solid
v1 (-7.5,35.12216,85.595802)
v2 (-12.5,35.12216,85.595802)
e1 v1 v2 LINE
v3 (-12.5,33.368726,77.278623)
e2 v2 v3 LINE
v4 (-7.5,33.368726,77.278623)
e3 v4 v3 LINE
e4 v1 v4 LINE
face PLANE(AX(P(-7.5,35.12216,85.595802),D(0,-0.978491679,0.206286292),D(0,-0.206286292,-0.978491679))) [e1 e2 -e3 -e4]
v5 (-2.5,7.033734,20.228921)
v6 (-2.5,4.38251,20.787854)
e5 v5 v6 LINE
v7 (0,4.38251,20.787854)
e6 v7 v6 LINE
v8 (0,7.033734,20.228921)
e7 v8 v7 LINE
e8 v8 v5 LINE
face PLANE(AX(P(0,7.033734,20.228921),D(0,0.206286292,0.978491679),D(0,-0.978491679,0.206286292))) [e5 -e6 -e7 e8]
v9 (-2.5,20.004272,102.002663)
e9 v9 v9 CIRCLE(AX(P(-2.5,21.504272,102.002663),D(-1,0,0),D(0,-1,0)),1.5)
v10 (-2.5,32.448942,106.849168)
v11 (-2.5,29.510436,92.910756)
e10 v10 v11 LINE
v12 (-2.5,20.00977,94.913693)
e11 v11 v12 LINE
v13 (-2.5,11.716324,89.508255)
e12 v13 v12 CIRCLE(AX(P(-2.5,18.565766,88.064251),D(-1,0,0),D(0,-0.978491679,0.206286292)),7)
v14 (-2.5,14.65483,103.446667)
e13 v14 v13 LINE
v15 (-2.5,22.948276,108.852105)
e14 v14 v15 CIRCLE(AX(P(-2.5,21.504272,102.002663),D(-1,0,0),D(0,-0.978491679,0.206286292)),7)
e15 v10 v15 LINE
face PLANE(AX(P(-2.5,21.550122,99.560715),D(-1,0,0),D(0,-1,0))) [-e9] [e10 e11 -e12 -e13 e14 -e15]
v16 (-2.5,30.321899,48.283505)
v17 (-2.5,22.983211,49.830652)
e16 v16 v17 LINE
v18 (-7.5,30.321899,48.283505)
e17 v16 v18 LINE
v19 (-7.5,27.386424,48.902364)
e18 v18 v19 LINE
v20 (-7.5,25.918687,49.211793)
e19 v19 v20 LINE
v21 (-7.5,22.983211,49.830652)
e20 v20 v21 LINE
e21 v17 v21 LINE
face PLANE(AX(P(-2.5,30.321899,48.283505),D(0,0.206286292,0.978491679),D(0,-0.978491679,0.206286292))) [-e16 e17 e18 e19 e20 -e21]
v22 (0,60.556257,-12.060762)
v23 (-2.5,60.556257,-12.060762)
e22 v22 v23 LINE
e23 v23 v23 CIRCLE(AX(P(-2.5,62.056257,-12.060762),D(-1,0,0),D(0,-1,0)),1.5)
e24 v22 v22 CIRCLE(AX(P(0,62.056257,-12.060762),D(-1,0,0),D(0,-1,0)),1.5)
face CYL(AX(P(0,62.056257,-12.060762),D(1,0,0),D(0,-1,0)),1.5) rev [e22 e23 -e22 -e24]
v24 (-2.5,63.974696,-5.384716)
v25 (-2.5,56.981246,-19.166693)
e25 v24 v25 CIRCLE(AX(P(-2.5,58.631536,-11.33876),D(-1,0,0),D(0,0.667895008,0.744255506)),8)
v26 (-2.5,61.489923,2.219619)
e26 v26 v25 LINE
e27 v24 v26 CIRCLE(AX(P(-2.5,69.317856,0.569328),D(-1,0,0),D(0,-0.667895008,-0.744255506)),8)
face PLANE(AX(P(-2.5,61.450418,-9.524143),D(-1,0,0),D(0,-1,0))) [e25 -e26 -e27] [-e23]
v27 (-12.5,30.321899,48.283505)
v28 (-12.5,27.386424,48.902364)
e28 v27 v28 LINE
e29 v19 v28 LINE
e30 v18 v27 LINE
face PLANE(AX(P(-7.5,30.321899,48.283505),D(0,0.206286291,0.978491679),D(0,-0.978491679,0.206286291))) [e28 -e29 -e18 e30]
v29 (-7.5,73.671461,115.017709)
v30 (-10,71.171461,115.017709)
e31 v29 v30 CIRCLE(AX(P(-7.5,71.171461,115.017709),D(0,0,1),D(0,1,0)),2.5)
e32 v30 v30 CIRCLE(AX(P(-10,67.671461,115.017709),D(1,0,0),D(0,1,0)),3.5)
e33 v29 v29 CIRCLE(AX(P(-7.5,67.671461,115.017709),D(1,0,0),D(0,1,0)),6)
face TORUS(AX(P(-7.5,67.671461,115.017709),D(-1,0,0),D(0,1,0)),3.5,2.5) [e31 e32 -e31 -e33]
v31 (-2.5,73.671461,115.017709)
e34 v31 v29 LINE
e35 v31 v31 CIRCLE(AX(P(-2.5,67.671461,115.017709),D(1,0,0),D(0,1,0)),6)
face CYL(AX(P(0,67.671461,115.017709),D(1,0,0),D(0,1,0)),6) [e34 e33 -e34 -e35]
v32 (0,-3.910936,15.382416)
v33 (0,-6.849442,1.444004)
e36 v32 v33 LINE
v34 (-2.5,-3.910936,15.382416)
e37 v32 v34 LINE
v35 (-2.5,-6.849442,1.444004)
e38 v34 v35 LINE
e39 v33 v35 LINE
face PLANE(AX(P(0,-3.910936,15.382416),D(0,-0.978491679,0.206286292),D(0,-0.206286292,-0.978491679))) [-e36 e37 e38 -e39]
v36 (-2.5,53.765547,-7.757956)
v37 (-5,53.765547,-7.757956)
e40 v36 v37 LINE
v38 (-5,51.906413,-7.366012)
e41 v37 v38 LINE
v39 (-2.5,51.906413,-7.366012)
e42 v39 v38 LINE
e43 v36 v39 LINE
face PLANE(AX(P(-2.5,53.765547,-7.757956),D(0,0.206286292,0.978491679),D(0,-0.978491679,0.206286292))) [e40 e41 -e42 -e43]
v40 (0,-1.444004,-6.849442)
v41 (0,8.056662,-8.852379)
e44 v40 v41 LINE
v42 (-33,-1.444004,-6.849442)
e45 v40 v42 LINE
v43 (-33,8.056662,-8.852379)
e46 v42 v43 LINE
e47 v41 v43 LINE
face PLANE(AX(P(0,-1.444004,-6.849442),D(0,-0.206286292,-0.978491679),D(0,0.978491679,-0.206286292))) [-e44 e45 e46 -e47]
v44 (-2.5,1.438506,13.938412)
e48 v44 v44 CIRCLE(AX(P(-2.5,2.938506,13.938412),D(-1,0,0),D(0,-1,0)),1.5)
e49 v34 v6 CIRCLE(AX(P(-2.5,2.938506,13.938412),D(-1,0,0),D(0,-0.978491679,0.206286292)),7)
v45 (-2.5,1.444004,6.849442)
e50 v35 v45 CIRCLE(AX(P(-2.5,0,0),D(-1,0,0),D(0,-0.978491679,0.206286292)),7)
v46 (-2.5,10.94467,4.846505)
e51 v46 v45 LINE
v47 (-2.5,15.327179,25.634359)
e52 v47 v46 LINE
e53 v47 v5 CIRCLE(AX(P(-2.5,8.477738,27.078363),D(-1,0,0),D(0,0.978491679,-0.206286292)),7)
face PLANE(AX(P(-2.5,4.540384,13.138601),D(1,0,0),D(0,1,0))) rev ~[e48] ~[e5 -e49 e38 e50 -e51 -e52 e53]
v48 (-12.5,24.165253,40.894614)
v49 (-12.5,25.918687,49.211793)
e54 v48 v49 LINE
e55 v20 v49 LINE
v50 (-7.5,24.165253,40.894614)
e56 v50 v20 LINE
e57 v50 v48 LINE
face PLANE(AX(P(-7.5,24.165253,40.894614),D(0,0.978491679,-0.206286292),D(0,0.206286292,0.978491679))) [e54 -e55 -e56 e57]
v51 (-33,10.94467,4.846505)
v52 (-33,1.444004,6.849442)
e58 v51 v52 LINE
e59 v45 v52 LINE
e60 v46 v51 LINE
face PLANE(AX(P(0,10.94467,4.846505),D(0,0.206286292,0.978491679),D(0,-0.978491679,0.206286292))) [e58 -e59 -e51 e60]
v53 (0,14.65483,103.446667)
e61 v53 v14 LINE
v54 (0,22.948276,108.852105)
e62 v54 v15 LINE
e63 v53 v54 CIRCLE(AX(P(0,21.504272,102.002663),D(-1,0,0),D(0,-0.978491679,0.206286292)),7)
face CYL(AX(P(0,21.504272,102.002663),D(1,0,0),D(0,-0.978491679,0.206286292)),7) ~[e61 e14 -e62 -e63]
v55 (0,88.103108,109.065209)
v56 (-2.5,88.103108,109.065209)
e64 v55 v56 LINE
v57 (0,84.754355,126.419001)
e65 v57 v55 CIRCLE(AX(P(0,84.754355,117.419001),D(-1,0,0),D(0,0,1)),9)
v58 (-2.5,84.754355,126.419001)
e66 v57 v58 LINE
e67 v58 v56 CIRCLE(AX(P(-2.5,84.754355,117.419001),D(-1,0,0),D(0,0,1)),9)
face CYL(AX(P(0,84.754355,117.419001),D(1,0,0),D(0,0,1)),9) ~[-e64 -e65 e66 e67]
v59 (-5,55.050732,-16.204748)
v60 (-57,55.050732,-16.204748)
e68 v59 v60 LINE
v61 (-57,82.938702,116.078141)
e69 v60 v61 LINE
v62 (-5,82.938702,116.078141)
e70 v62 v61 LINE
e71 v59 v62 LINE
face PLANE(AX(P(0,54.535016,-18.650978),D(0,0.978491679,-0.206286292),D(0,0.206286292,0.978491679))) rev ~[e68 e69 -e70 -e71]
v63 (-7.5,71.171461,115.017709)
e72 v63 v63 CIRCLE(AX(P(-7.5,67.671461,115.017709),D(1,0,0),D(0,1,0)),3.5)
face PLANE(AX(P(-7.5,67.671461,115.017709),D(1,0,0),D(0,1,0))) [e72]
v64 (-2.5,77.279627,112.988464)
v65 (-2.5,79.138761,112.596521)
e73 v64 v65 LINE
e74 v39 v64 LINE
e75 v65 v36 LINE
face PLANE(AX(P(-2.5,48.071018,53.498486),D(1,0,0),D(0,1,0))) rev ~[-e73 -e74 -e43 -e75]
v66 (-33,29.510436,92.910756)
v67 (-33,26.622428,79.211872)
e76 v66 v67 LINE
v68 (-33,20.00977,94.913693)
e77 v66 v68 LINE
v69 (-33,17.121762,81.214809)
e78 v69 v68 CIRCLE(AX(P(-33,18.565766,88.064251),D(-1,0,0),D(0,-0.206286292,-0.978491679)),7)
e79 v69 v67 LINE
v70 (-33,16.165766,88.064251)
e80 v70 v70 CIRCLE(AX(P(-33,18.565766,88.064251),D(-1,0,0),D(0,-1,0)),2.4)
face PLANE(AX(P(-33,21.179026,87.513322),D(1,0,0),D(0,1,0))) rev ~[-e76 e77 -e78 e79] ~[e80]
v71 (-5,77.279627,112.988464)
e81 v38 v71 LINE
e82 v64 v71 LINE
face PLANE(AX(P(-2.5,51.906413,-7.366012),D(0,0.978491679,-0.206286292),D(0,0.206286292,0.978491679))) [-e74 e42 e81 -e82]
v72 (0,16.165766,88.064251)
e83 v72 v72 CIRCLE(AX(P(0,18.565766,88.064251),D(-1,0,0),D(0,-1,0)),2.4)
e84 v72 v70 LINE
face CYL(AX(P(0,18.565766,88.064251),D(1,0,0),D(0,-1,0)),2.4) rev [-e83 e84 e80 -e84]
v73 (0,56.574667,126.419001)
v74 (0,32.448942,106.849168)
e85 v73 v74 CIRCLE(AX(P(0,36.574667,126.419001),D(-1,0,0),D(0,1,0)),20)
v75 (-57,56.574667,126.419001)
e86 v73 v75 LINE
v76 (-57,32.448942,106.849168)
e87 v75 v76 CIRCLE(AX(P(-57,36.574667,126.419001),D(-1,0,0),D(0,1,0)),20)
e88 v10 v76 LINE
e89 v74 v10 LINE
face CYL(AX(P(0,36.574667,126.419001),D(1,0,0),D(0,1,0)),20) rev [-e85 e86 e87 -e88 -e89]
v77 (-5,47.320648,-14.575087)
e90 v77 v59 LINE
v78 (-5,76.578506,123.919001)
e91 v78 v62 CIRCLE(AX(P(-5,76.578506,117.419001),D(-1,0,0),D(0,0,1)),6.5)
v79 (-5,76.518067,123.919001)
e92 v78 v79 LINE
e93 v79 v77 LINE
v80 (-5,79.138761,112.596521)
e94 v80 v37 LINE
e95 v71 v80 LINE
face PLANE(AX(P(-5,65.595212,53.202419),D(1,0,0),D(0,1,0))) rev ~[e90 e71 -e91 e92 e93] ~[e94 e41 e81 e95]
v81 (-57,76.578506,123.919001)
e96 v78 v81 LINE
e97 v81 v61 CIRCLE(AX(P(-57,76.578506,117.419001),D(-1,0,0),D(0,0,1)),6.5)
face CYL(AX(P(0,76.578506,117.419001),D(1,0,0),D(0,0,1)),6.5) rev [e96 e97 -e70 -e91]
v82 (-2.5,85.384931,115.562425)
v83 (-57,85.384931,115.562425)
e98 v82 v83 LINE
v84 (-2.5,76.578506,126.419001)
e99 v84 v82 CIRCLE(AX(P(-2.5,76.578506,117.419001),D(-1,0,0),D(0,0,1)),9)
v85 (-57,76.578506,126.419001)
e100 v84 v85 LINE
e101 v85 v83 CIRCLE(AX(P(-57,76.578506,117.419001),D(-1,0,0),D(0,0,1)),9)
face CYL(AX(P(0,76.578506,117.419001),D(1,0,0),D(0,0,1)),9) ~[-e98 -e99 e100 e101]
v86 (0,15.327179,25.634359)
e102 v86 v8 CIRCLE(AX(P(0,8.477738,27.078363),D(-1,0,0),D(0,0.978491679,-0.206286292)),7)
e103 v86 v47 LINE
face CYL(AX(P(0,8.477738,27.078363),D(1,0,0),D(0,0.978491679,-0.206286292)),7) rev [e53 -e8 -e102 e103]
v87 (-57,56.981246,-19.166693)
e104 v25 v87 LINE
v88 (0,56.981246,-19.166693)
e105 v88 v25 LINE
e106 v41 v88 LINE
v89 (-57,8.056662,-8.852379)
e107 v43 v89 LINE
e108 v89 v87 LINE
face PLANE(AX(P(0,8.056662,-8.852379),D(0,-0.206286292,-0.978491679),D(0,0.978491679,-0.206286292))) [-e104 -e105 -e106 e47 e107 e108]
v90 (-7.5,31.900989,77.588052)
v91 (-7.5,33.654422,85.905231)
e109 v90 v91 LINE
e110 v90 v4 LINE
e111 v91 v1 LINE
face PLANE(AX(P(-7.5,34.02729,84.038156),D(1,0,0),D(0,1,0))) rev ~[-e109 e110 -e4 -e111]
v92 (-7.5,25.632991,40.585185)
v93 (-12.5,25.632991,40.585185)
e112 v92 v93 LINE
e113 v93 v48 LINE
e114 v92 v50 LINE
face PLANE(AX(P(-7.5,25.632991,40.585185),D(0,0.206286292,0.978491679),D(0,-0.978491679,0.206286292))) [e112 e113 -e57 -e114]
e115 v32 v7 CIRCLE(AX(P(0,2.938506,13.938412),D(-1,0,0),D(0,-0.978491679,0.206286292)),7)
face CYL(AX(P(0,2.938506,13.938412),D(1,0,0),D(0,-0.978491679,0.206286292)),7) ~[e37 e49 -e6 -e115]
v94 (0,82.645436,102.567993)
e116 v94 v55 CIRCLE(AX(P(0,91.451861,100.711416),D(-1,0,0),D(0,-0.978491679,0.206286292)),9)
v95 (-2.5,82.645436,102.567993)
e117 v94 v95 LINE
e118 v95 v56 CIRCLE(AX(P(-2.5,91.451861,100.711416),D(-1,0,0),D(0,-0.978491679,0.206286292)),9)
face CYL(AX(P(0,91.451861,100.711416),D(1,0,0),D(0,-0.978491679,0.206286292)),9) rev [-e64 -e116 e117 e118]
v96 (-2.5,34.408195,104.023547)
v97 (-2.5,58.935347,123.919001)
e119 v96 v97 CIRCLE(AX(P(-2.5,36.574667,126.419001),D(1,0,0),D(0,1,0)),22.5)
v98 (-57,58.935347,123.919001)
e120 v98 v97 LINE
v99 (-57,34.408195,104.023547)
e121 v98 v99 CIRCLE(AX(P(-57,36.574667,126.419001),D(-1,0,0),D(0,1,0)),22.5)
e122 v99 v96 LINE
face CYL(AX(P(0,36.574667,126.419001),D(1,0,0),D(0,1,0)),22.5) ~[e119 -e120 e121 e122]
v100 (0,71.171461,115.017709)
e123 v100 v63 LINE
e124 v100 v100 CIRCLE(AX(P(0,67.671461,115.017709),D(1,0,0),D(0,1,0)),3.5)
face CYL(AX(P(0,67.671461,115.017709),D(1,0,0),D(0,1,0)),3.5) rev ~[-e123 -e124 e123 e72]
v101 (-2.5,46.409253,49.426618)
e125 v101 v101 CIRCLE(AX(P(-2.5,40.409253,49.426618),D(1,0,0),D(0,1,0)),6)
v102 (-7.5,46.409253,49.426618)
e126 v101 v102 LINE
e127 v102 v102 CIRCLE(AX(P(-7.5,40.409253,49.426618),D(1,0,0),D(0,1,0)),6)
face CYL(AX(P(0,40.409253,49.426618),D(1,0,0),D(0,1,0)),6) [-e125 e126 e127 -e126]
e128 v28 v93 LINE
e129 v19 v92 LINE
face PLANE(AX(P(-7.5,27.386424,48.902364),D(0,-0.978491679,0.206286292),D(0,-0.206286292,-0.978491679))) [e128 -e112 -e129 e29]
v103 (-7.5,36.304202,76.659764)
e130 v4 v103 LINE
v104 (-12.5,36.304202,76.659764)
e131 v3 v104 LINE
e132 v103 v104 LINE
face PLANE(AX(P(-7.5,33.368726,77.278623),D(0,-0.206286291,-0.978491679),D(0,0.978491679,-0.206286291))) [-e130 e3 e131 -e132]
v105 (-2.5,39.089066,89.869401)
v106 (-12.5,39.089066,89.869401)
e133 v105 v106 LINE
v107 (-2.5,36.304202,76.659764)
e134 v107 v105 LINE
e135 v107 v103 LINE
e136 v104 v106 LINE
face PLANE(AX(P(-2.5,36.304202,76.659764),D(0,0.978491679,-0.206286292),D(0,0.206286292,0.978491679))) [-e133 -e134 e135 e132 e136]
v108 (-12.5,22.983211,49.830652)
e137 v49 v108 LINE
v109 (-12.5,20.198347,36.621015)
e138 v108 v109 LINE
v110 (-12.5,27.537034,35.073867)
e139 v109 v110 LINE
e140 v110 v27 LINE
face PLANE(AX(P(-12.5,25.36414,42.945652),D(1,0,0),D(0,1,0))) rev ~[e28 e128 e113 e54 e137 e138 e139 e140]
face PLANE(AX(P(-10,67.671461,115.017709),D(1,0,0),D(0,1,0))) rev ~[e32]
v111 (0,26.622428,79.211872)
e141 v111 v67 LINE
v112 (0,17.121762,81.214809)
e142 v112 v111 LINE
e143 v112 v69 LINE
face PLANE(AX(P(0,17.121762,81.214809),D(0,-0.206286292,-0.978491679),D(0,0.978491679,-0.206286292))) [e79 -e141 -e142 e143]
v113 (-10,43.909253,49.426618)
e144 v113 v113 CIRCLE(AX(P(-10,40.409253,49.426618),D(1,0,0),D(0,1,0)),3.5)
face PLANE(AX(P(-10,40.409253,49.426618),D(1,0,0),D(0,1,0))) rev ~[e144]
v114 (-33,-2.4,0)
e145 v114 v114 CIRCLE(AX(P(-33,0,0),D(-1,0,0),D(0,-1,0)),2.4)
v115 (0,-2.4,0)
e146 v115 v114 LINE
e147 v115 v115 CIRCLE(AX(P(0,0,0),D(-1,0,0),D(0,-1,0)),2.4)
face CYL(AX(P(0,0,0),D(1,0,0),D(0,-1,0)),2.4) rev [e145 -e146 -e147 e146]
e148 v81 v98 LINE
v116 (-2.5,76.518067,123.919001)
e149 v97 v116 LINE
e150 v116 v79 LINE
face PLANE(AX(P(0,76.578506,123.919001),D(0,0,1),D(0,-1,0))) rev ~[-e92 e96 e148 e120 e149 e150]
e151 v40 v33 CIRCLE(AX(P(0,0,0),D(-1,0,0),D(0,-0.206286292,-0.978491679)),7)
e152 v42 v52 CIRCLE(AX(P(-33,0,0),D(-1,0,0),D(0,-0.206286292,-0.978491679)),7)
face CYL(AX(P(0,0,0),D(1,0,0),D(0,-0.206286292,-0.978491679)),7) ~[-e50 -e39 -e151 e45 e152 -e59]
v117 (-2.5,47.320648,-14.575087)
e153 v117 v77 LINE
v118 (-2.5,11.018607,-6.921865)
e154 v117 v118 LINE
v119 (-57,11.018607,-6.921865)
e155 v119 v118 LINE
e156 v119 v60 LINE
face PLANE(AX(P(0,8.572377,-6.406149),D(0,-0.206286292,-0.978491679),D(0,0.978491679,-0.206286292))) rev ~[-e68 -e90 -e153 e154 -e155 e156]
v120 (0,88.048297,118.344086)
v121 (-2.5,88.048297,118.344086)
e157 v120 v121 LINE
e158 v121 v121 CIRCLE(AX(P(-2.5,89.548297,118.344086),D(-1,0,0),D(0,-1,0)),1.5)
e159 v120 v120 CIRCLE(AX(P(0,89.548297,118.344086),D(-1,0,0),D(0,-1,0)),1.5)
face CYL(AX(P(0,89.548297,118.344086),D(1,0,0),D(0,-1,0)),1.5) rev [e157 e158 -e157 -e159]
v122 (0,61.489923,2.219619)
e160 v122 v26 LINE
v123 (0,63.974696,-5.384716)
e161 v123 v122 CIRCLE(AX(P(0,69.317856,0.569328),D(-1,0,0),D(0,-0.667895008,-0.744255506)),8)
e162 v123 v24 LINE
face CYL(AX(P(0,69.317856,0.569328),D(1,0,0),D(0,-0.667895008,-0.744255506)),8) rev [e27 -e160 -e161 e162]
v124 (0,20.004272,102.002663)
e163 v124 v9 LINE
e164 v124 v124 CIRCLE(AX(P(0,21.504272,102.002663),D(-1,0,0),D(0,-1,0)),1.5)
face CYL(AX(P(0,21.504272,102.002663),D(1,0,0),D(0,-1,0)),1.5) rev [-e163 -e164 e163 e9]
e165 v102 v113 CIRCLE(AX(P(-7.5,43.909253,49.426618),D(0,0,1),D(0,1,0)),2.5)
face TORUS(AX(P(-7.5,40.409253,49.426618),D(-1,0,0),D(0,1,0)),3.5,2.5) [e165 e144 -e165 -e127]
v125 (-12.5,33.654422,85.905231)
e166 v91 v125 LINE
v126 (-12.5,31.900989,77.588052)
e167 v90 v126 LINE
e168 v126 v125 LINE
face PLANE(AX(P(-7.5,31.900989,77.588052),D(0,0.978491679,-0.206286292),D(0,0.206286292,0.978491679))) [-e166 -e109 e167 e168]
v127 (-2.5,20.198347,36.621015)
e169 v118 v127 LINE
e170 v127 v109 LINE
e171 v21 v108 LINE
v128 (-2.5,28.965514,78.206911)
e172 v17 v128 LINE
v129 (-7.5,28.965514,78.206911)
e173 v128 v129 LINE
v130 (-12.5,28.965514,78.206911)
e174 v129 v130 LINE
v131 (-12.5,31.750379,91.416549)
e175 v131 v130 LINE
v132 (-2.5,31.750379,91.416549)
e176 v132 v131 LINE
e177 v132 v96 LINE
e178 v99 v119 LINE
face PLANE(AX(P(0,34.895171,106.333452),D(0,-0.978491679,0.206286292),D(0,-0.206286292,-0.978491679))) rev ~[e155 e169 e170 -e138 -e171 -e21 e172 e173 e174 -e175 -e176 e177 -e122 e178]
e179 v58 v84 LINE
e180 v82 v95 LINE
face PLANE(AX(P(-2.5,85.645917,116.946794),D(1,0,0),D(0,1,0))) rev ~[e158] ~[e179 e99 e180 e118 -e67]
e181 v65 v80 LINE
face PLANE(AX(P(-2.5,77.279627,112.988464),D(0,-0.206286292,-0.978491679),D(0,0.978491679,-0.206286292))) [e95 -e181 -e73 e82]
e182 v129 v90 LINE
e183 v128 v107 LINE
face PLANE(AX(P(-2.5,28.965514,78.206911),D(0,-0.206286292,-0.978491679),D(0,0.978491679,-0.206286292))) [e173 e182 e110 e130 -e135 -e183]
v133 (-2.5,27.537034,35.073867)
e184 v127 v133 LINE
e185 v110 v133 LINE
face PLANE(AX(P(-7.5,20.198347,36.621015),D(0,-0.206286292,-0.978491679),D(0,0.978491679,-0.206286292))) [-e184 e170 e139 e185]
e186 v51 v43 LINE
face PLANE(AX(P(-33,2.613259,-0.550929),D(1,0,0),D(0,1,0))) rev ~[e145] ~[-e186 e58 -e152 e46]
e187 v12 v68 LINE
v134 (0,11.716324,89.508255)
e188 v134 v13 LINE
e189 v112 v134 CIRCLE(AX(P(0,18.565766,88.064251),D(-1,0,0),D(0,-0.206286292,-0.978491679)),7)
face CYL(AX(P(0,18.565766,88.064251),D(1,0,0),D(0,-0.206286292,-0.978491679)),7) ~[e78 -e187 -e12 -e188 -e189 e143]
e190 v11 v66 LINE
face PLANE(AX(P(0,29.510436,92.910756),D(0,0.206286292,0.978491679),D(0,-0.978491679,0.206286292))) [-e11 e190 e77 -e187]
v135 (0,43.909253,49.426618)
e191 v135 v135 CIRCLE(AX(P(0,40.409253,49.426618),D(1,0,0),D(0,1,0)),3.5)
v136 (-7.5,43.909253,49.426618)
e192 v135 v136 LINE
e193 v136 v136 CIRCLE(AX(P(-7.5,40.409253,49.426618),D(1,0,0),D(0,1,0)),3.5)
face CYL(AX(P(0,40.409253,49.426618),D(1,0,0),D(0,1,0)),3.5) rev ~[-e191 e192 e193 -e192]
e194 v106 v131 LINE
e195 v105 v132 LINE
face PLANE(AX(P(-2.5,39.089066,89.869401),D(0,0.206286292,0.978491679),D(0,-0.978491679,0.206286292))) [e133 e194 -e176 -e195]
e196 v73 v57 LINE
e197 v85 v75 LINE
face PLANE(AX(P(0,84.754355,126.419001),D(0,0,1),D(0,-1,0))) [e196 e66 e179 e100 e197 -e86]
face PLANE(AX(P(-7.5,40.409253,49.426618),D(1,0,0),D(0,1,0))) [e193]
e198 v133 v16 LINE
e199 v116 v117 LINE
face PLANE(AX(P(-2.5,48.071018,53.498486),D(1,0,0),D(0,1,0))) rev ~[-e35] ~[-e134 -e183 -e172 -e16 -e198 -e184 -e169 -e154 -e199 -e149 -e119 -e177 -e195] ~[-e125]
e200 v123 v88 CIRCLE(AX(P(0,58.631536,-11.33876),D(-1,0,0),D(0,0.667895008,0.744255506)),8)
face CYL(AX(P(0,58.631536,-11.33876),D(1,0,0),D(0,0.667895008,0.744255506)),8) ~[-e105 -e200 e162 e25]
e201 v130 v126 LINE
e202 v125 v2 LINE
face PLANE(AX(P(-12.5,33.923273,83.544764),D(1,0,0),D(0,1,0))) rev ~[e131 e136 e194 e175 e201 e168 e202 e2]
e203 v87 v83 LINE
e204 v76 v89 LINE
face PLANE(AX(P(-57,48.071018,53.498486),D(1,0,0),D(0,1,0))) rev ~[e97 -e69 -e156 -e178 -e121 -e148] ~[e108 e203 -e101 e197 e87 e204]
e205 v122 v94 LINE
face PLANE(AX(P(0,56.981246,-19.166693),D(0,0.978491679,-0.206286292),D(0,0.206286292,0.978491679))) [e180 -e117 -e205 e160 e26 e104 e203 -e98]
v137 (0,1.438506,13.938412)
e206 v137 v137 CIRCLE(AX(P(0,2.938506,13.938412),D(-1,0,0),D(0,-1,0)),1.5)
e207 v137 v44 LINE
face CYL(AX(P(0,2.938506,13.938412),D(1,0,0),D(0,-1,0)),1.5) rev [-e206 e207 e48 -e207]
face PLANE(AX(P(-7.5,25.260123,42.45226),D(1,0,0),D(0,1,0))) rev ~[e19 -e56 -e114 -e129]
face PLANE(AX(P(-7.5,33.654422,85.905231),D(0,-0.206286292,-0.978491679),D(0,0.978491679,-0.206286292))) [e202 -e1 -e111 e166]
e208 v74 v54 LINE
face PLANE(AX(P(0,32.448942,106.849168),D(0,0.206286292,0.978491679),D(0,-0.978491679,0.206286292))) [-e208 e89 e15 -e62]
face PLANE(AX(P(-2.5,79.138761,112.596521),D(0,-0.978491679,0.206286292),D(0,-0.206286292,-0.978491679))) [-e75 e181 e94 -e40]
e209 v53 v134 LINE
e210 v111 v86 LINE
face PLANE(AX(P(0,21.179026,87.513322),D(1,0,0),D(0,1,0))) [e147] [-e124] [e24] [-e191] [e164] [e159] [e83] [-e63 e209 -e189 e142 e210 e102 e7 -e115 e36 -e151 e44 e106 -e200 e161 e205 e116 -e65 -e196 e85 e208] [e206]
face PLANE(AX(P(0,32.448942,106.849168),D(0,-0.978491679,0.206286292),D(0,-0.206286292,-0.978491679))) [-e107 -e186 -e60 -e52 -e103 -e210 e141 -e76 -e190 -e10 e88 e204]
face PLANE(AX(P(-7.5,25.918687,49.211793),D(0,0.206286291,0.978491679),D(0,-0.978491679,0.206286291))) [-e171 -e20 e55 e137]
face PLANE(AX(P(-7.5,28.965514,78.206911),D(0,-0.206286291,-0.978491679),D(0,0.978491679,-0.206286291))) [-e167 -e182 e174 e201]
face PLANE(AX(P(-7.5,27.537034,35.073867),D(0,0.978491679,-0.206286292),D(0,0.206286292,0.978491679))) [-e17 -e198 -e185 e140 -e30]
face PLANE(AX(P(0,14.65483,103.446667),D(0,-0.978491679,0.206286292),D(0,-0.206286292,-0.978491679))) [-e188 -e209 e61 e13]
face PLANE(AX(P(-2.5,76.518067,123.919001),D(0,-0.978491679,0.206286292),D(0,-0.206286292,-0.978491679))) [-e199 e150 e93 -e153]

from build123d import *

# Parameters (mm, degrees)
PAD009_DEPTH    = 57
SKETCH031_R     = 3.5
POCKET005_DEPTH = 7.5
THICKNESS_T     = -2.5
SKETCH032_R     = 1.5
PAD010_DEPTH    = 2.5
SKETCH033_R     = 2.4
PAD011_DEPTH    = 33
PAD012_DEPTH    = 2.5
PAD013_DEPTH    = 5
PAD014_DEPTH    = 5


with BuildPart() as part:
    # Sketch030 → Pad009 (new body)
    with BuildSketch(Plane(origin=(0, 0, 0), x_dir=(0, -1, 0), z_dir=(-1, 0, 0))):
        with BuildLine():
            Line((-56.9812455945, -19.1666932293), (-85.3849313131, 115.5624248602))
            ThreePointArc((-76.5785062018, 126.4190014838), (-83.5681124, 123.0886932914), (-85.3849313131, 115.5624248602))
            Line((-76.5785062018, 126.4190014838), (-56.5746674209, 126.4190014838))
            ThreePointArc((-56.5746674209, 126.4190014838), (-49.173982549, 110.8865432655), (-32.4489415907, 106.8491679032))
            Line((-32.4489415907, 106.8491679032), (-8.0566616429, -8.8523786537))
            Line((-8.0566616429, -8.8523786537), (-56.9812455945, -19.1666932293))
        make_face()
    extrude(amount=PAD009_DEPTH)

    # Sketch031 → Pocket005 (cut)
    with BuildSketch(Plane.YZ):
        with Locations((40.4092527683, 49.4266176238)):
            Circle(SKETCH031_R)
        with Locations((67.6714613195, 115.017708736)):
            Circle(SKETCH031_R)
    extrude(amount=-POCKET005_DEPTH, mode=Mode.SUBTRACT)

    # Thickness
    thickness_openings = [part.faces().sort_by_distance(p)[0] for p in [
        (-57, 47.670985, 52.690427),
    ]]
    offset(amount=THICKNESS_T, openings=thickness_openings)

    # Sketch032 → Pad010 (join)
    with BuildSketch(Plane(origin=(0, 0, 0), x_dir=(0, -1, 0), z_dir=(-1, 0, 0))):
        with BuildLine():
            ThreePointArc((-76.5785062018, 126.4190014838), (-83.5681124, 123.0886932914), (-85.3849313131, 115.5624248602))
            Line((-85.3849313131, 115.5624248602), (-82.6454361548, 102.5679927173))
            ThreePointArc((-82.6454361548, 102.5679927173), (-84.5605229517, 106.5001513818), (-88.1031081238, 109.0652087887))
            ThreePointArc((-84.7543549815, 126.4190014838), (-93.5913265854, 119.1242677012), (-88.1031081238, 109.0652087887))
            Line((-84.7543549815, 126.4190014838), (-76.5785062018, 126.4190014838))
        make_face()
        with Locations((-89.5482969155, 118.3440861841)):
            Circle(SKETCH032_R, mode=Mode.SUBTRACT)
        with BuildLine():
            ThreePointArc((-14.6548301134, 103.446667091), (-17.6820502047, 107.8670148106), (-22.9482759072, 108.8521048036))
            Line((-32.4489415907, 106.8491679032), (-22.9482759072, 108.8521048036))
            Line((-32.4489415907, 106.8491679032), (-29.5104359602, 92.9107559656))
            Line((-29.5104359602, 92.9107559656), (-20.0097702767, 94.9136928661))
            ThreePointArc((-11.7163244829, 89.5082551534), (-14.7435445743, 93.928602873), (-20.0097702767, 94.9136928661))
            Line((-14.6548301134, 103.446667091), (-11.7163244829, 89.5082551534))
        make_face()
        with Locations((-21.5042718666, 102.0026630504)):
            Circle(SKETCH032_R, mode=Mode.SUBTRACT)
        with BuildLine():
            ThreePointArc((-15.3271793951, 25.6343585435), (-12.2999593038, 21.2140108239), (-7.0337336013, 20.2289208309))
            Line((-7.0337336013, 20.2289208309), (-4.382509671, 20.7878536908))
            ThreePointArc((3.9109361228, 15.3824159782), (0.8837160314, 19.8027636978), (-4.382509671, 20.7878536908))
            Line((3.9109361228, 15.3824159782), (6.8494417532, 1.4440040406))
            ThreePointArc((6.8494417532, 1.4440040406), (3.8222216619, 5.8643517602), (-1.4440040406, 6.8494417532))
            Line((-10.9446697241, 4.8465048527), (-1.4440040406, 6.8494417532))
            Line((-15.3271793951, 25.6343585435), (-10.9446697241, 4.8465048527))
        make_face()
        with Locations((-2.9385056304, 13.9384119376)):
            Circle(SKETCH032_R, mode=Mode.SUBTRACT)
        with BuildLine():
            ThreePointArc((-63.9746959939, -5.3847157517), (-65.7656124274, -14.9588361058), (-56.9812455945, -19.1666932293))
            Line((-61.489922629, 2.2196186258), (-56.9812455945, -19.1666932293))
            ThreePointArc((-63.9746959939, -5.3847157517), (-61.7135216838, -1.9154450712), (-61.489922629, 2.2196186258))
        make_face()
        with Locations((-62.0562568032, -12.0607618174)):
            Circle(SKETCH032_R, mode=Mode.SUBTRACT)
    extrude(amount=PAD010_DEPTH)

    # Sketch033 → Pad011 (join)
    with BuildSketch(Plane(origin=(0, 0, 0), x_dir=(0, -1, 0), z_dir=(-1, 0, 0))):
        with BuildLine():
            Line((-29.5104359602, 92.9107559656), (-20.0097702767, 94.9136928661))
            ThreePointArc((-17.1217621955, 81.2148093596), (-11.7163244829, 89.5082551534), (-20.0097702767, 94.9136928661))
            Line((-17.1217621955, 81.2148093596), (-26.6224278791, 79.2118724591))
            Line((-29.5104359602, 92.9107559656), (-26.6224278791, 79.2118724591))
        make_face()
        with Locations((-18.5657662361, 88.0642511128)):
            Circle(SKETCH033_R, mode=Mode.SUBTRACT)
        with BuildLine():
            Line((-10.9446697241, 4.8465048527), (-1.4440040406, 6.8494417532))
            ThreePointArc((1.4440040406, -6.8494417532), (6.8494417532, 1.4440040406), (-1.4440040406, 6.8494417532))
            Line((1.4440040406, -6.8494417532), (-8.0566616429, -8.8523786537))
            Line((-10.9446697241, 4.8465048527), (-8.0566616429, -8.8523786537))
        make_face()
        Circle(SKETCH033_R, mode=Mode.SUBTRACT)
    extrude(amount=PAD011_DEPTH)

    # Sketch035 (on Face2 of Pad011) → Pad012 (join)
    with BuildSketch(Plane(origin=(-2.5, 0, 0), x_dir=(0, -1, 0), z_dir=(-1, 0, 0))):
        with BuildLine():
            Line((-47.3206478613, -14.5750866), (-55.0507321257, -16.204748303))
            Line((-55.0507321257, -16.204748303), (-82.9387021155, 116.0781405889))
            ThreePointArc((-76.5785062018, 123.9190014838), (-81.6265551227, 121.5137789004), (-82.9387021155, 116.0781405889))
            Line((-76.5785062018, 123.9190014838), (-76.5180671542, 123.9190014838))
            Line((-76.5180671542, 123.9190014838), (-47.3206478613, -14.5750866))
        make_face()
        Polygon((-77.2796270866, 112.9884644786), (-79.1387612768, 112.5965205247), (-53.7655474207, -7.7579559962), (-51.9064132305, -7.3660120423), align=None, mode=Mode.SUBTRACT)
    extrude(amount=PAD012_DEPTH)

    # Sketch037 (on Face2 of Pad011) → Pad013 (join)
    with BuildSketch(Plane(origin=(-2.5, 0, 0), x_dir=(0, -1, 0), z_dir=(-1, 0, 0))):
        Polygon((-20.1983465416, 36.621014532), (-27.5370341343, 35.0738673456), (-30.3218990697, 48.2835050126), (-22.983211477, 49.8306521989), align=None)
        Polygon((-39.089066459, 89.8694013714), (-31.7503788663, 91.4165485578), (-28.9655139309, 78.2069108908), (-36.3042015236, 76.6597637045), align=None)
    extrude(amount=PAD013_DEPTH)

    # Sketch036 (on Face2 of Pad011) → Pad014 (join)
    with BuildSketch(Plane(origin=(-7.5, 0, 0), x_dir=(0, -1, 0), z_dir=(-1, 0, 0))):
        Polygon((-20.1983465416, 36.621014532), (-27.5370341343, 35.0738673456), (-30.3218990697, 48.2835050126), (-27.3864240326, 48.9023638871), (-25.6329905548, 40.5851846153), (-24.1652530362, 40.8946140526), (-25.9186865141, 49.2117933244), (-22.983211477, 49.8306521989), align=None)
        Polygon((-39.089066459, 89.8694013714), (-31.7503788663, 91.4165485578), (-28.9655139309, 78.2069108908), (-31.900988968, 77.5880520163), (-33.6544224458, 85.9052312881), (-35.1221599644, 85.5958018508), (-33.3687264865, 77.278622579), (-36.3042015236, 76.6597637045), align=None)
    extrude(amount=PAD014_DEPTH)


solid = part.part
